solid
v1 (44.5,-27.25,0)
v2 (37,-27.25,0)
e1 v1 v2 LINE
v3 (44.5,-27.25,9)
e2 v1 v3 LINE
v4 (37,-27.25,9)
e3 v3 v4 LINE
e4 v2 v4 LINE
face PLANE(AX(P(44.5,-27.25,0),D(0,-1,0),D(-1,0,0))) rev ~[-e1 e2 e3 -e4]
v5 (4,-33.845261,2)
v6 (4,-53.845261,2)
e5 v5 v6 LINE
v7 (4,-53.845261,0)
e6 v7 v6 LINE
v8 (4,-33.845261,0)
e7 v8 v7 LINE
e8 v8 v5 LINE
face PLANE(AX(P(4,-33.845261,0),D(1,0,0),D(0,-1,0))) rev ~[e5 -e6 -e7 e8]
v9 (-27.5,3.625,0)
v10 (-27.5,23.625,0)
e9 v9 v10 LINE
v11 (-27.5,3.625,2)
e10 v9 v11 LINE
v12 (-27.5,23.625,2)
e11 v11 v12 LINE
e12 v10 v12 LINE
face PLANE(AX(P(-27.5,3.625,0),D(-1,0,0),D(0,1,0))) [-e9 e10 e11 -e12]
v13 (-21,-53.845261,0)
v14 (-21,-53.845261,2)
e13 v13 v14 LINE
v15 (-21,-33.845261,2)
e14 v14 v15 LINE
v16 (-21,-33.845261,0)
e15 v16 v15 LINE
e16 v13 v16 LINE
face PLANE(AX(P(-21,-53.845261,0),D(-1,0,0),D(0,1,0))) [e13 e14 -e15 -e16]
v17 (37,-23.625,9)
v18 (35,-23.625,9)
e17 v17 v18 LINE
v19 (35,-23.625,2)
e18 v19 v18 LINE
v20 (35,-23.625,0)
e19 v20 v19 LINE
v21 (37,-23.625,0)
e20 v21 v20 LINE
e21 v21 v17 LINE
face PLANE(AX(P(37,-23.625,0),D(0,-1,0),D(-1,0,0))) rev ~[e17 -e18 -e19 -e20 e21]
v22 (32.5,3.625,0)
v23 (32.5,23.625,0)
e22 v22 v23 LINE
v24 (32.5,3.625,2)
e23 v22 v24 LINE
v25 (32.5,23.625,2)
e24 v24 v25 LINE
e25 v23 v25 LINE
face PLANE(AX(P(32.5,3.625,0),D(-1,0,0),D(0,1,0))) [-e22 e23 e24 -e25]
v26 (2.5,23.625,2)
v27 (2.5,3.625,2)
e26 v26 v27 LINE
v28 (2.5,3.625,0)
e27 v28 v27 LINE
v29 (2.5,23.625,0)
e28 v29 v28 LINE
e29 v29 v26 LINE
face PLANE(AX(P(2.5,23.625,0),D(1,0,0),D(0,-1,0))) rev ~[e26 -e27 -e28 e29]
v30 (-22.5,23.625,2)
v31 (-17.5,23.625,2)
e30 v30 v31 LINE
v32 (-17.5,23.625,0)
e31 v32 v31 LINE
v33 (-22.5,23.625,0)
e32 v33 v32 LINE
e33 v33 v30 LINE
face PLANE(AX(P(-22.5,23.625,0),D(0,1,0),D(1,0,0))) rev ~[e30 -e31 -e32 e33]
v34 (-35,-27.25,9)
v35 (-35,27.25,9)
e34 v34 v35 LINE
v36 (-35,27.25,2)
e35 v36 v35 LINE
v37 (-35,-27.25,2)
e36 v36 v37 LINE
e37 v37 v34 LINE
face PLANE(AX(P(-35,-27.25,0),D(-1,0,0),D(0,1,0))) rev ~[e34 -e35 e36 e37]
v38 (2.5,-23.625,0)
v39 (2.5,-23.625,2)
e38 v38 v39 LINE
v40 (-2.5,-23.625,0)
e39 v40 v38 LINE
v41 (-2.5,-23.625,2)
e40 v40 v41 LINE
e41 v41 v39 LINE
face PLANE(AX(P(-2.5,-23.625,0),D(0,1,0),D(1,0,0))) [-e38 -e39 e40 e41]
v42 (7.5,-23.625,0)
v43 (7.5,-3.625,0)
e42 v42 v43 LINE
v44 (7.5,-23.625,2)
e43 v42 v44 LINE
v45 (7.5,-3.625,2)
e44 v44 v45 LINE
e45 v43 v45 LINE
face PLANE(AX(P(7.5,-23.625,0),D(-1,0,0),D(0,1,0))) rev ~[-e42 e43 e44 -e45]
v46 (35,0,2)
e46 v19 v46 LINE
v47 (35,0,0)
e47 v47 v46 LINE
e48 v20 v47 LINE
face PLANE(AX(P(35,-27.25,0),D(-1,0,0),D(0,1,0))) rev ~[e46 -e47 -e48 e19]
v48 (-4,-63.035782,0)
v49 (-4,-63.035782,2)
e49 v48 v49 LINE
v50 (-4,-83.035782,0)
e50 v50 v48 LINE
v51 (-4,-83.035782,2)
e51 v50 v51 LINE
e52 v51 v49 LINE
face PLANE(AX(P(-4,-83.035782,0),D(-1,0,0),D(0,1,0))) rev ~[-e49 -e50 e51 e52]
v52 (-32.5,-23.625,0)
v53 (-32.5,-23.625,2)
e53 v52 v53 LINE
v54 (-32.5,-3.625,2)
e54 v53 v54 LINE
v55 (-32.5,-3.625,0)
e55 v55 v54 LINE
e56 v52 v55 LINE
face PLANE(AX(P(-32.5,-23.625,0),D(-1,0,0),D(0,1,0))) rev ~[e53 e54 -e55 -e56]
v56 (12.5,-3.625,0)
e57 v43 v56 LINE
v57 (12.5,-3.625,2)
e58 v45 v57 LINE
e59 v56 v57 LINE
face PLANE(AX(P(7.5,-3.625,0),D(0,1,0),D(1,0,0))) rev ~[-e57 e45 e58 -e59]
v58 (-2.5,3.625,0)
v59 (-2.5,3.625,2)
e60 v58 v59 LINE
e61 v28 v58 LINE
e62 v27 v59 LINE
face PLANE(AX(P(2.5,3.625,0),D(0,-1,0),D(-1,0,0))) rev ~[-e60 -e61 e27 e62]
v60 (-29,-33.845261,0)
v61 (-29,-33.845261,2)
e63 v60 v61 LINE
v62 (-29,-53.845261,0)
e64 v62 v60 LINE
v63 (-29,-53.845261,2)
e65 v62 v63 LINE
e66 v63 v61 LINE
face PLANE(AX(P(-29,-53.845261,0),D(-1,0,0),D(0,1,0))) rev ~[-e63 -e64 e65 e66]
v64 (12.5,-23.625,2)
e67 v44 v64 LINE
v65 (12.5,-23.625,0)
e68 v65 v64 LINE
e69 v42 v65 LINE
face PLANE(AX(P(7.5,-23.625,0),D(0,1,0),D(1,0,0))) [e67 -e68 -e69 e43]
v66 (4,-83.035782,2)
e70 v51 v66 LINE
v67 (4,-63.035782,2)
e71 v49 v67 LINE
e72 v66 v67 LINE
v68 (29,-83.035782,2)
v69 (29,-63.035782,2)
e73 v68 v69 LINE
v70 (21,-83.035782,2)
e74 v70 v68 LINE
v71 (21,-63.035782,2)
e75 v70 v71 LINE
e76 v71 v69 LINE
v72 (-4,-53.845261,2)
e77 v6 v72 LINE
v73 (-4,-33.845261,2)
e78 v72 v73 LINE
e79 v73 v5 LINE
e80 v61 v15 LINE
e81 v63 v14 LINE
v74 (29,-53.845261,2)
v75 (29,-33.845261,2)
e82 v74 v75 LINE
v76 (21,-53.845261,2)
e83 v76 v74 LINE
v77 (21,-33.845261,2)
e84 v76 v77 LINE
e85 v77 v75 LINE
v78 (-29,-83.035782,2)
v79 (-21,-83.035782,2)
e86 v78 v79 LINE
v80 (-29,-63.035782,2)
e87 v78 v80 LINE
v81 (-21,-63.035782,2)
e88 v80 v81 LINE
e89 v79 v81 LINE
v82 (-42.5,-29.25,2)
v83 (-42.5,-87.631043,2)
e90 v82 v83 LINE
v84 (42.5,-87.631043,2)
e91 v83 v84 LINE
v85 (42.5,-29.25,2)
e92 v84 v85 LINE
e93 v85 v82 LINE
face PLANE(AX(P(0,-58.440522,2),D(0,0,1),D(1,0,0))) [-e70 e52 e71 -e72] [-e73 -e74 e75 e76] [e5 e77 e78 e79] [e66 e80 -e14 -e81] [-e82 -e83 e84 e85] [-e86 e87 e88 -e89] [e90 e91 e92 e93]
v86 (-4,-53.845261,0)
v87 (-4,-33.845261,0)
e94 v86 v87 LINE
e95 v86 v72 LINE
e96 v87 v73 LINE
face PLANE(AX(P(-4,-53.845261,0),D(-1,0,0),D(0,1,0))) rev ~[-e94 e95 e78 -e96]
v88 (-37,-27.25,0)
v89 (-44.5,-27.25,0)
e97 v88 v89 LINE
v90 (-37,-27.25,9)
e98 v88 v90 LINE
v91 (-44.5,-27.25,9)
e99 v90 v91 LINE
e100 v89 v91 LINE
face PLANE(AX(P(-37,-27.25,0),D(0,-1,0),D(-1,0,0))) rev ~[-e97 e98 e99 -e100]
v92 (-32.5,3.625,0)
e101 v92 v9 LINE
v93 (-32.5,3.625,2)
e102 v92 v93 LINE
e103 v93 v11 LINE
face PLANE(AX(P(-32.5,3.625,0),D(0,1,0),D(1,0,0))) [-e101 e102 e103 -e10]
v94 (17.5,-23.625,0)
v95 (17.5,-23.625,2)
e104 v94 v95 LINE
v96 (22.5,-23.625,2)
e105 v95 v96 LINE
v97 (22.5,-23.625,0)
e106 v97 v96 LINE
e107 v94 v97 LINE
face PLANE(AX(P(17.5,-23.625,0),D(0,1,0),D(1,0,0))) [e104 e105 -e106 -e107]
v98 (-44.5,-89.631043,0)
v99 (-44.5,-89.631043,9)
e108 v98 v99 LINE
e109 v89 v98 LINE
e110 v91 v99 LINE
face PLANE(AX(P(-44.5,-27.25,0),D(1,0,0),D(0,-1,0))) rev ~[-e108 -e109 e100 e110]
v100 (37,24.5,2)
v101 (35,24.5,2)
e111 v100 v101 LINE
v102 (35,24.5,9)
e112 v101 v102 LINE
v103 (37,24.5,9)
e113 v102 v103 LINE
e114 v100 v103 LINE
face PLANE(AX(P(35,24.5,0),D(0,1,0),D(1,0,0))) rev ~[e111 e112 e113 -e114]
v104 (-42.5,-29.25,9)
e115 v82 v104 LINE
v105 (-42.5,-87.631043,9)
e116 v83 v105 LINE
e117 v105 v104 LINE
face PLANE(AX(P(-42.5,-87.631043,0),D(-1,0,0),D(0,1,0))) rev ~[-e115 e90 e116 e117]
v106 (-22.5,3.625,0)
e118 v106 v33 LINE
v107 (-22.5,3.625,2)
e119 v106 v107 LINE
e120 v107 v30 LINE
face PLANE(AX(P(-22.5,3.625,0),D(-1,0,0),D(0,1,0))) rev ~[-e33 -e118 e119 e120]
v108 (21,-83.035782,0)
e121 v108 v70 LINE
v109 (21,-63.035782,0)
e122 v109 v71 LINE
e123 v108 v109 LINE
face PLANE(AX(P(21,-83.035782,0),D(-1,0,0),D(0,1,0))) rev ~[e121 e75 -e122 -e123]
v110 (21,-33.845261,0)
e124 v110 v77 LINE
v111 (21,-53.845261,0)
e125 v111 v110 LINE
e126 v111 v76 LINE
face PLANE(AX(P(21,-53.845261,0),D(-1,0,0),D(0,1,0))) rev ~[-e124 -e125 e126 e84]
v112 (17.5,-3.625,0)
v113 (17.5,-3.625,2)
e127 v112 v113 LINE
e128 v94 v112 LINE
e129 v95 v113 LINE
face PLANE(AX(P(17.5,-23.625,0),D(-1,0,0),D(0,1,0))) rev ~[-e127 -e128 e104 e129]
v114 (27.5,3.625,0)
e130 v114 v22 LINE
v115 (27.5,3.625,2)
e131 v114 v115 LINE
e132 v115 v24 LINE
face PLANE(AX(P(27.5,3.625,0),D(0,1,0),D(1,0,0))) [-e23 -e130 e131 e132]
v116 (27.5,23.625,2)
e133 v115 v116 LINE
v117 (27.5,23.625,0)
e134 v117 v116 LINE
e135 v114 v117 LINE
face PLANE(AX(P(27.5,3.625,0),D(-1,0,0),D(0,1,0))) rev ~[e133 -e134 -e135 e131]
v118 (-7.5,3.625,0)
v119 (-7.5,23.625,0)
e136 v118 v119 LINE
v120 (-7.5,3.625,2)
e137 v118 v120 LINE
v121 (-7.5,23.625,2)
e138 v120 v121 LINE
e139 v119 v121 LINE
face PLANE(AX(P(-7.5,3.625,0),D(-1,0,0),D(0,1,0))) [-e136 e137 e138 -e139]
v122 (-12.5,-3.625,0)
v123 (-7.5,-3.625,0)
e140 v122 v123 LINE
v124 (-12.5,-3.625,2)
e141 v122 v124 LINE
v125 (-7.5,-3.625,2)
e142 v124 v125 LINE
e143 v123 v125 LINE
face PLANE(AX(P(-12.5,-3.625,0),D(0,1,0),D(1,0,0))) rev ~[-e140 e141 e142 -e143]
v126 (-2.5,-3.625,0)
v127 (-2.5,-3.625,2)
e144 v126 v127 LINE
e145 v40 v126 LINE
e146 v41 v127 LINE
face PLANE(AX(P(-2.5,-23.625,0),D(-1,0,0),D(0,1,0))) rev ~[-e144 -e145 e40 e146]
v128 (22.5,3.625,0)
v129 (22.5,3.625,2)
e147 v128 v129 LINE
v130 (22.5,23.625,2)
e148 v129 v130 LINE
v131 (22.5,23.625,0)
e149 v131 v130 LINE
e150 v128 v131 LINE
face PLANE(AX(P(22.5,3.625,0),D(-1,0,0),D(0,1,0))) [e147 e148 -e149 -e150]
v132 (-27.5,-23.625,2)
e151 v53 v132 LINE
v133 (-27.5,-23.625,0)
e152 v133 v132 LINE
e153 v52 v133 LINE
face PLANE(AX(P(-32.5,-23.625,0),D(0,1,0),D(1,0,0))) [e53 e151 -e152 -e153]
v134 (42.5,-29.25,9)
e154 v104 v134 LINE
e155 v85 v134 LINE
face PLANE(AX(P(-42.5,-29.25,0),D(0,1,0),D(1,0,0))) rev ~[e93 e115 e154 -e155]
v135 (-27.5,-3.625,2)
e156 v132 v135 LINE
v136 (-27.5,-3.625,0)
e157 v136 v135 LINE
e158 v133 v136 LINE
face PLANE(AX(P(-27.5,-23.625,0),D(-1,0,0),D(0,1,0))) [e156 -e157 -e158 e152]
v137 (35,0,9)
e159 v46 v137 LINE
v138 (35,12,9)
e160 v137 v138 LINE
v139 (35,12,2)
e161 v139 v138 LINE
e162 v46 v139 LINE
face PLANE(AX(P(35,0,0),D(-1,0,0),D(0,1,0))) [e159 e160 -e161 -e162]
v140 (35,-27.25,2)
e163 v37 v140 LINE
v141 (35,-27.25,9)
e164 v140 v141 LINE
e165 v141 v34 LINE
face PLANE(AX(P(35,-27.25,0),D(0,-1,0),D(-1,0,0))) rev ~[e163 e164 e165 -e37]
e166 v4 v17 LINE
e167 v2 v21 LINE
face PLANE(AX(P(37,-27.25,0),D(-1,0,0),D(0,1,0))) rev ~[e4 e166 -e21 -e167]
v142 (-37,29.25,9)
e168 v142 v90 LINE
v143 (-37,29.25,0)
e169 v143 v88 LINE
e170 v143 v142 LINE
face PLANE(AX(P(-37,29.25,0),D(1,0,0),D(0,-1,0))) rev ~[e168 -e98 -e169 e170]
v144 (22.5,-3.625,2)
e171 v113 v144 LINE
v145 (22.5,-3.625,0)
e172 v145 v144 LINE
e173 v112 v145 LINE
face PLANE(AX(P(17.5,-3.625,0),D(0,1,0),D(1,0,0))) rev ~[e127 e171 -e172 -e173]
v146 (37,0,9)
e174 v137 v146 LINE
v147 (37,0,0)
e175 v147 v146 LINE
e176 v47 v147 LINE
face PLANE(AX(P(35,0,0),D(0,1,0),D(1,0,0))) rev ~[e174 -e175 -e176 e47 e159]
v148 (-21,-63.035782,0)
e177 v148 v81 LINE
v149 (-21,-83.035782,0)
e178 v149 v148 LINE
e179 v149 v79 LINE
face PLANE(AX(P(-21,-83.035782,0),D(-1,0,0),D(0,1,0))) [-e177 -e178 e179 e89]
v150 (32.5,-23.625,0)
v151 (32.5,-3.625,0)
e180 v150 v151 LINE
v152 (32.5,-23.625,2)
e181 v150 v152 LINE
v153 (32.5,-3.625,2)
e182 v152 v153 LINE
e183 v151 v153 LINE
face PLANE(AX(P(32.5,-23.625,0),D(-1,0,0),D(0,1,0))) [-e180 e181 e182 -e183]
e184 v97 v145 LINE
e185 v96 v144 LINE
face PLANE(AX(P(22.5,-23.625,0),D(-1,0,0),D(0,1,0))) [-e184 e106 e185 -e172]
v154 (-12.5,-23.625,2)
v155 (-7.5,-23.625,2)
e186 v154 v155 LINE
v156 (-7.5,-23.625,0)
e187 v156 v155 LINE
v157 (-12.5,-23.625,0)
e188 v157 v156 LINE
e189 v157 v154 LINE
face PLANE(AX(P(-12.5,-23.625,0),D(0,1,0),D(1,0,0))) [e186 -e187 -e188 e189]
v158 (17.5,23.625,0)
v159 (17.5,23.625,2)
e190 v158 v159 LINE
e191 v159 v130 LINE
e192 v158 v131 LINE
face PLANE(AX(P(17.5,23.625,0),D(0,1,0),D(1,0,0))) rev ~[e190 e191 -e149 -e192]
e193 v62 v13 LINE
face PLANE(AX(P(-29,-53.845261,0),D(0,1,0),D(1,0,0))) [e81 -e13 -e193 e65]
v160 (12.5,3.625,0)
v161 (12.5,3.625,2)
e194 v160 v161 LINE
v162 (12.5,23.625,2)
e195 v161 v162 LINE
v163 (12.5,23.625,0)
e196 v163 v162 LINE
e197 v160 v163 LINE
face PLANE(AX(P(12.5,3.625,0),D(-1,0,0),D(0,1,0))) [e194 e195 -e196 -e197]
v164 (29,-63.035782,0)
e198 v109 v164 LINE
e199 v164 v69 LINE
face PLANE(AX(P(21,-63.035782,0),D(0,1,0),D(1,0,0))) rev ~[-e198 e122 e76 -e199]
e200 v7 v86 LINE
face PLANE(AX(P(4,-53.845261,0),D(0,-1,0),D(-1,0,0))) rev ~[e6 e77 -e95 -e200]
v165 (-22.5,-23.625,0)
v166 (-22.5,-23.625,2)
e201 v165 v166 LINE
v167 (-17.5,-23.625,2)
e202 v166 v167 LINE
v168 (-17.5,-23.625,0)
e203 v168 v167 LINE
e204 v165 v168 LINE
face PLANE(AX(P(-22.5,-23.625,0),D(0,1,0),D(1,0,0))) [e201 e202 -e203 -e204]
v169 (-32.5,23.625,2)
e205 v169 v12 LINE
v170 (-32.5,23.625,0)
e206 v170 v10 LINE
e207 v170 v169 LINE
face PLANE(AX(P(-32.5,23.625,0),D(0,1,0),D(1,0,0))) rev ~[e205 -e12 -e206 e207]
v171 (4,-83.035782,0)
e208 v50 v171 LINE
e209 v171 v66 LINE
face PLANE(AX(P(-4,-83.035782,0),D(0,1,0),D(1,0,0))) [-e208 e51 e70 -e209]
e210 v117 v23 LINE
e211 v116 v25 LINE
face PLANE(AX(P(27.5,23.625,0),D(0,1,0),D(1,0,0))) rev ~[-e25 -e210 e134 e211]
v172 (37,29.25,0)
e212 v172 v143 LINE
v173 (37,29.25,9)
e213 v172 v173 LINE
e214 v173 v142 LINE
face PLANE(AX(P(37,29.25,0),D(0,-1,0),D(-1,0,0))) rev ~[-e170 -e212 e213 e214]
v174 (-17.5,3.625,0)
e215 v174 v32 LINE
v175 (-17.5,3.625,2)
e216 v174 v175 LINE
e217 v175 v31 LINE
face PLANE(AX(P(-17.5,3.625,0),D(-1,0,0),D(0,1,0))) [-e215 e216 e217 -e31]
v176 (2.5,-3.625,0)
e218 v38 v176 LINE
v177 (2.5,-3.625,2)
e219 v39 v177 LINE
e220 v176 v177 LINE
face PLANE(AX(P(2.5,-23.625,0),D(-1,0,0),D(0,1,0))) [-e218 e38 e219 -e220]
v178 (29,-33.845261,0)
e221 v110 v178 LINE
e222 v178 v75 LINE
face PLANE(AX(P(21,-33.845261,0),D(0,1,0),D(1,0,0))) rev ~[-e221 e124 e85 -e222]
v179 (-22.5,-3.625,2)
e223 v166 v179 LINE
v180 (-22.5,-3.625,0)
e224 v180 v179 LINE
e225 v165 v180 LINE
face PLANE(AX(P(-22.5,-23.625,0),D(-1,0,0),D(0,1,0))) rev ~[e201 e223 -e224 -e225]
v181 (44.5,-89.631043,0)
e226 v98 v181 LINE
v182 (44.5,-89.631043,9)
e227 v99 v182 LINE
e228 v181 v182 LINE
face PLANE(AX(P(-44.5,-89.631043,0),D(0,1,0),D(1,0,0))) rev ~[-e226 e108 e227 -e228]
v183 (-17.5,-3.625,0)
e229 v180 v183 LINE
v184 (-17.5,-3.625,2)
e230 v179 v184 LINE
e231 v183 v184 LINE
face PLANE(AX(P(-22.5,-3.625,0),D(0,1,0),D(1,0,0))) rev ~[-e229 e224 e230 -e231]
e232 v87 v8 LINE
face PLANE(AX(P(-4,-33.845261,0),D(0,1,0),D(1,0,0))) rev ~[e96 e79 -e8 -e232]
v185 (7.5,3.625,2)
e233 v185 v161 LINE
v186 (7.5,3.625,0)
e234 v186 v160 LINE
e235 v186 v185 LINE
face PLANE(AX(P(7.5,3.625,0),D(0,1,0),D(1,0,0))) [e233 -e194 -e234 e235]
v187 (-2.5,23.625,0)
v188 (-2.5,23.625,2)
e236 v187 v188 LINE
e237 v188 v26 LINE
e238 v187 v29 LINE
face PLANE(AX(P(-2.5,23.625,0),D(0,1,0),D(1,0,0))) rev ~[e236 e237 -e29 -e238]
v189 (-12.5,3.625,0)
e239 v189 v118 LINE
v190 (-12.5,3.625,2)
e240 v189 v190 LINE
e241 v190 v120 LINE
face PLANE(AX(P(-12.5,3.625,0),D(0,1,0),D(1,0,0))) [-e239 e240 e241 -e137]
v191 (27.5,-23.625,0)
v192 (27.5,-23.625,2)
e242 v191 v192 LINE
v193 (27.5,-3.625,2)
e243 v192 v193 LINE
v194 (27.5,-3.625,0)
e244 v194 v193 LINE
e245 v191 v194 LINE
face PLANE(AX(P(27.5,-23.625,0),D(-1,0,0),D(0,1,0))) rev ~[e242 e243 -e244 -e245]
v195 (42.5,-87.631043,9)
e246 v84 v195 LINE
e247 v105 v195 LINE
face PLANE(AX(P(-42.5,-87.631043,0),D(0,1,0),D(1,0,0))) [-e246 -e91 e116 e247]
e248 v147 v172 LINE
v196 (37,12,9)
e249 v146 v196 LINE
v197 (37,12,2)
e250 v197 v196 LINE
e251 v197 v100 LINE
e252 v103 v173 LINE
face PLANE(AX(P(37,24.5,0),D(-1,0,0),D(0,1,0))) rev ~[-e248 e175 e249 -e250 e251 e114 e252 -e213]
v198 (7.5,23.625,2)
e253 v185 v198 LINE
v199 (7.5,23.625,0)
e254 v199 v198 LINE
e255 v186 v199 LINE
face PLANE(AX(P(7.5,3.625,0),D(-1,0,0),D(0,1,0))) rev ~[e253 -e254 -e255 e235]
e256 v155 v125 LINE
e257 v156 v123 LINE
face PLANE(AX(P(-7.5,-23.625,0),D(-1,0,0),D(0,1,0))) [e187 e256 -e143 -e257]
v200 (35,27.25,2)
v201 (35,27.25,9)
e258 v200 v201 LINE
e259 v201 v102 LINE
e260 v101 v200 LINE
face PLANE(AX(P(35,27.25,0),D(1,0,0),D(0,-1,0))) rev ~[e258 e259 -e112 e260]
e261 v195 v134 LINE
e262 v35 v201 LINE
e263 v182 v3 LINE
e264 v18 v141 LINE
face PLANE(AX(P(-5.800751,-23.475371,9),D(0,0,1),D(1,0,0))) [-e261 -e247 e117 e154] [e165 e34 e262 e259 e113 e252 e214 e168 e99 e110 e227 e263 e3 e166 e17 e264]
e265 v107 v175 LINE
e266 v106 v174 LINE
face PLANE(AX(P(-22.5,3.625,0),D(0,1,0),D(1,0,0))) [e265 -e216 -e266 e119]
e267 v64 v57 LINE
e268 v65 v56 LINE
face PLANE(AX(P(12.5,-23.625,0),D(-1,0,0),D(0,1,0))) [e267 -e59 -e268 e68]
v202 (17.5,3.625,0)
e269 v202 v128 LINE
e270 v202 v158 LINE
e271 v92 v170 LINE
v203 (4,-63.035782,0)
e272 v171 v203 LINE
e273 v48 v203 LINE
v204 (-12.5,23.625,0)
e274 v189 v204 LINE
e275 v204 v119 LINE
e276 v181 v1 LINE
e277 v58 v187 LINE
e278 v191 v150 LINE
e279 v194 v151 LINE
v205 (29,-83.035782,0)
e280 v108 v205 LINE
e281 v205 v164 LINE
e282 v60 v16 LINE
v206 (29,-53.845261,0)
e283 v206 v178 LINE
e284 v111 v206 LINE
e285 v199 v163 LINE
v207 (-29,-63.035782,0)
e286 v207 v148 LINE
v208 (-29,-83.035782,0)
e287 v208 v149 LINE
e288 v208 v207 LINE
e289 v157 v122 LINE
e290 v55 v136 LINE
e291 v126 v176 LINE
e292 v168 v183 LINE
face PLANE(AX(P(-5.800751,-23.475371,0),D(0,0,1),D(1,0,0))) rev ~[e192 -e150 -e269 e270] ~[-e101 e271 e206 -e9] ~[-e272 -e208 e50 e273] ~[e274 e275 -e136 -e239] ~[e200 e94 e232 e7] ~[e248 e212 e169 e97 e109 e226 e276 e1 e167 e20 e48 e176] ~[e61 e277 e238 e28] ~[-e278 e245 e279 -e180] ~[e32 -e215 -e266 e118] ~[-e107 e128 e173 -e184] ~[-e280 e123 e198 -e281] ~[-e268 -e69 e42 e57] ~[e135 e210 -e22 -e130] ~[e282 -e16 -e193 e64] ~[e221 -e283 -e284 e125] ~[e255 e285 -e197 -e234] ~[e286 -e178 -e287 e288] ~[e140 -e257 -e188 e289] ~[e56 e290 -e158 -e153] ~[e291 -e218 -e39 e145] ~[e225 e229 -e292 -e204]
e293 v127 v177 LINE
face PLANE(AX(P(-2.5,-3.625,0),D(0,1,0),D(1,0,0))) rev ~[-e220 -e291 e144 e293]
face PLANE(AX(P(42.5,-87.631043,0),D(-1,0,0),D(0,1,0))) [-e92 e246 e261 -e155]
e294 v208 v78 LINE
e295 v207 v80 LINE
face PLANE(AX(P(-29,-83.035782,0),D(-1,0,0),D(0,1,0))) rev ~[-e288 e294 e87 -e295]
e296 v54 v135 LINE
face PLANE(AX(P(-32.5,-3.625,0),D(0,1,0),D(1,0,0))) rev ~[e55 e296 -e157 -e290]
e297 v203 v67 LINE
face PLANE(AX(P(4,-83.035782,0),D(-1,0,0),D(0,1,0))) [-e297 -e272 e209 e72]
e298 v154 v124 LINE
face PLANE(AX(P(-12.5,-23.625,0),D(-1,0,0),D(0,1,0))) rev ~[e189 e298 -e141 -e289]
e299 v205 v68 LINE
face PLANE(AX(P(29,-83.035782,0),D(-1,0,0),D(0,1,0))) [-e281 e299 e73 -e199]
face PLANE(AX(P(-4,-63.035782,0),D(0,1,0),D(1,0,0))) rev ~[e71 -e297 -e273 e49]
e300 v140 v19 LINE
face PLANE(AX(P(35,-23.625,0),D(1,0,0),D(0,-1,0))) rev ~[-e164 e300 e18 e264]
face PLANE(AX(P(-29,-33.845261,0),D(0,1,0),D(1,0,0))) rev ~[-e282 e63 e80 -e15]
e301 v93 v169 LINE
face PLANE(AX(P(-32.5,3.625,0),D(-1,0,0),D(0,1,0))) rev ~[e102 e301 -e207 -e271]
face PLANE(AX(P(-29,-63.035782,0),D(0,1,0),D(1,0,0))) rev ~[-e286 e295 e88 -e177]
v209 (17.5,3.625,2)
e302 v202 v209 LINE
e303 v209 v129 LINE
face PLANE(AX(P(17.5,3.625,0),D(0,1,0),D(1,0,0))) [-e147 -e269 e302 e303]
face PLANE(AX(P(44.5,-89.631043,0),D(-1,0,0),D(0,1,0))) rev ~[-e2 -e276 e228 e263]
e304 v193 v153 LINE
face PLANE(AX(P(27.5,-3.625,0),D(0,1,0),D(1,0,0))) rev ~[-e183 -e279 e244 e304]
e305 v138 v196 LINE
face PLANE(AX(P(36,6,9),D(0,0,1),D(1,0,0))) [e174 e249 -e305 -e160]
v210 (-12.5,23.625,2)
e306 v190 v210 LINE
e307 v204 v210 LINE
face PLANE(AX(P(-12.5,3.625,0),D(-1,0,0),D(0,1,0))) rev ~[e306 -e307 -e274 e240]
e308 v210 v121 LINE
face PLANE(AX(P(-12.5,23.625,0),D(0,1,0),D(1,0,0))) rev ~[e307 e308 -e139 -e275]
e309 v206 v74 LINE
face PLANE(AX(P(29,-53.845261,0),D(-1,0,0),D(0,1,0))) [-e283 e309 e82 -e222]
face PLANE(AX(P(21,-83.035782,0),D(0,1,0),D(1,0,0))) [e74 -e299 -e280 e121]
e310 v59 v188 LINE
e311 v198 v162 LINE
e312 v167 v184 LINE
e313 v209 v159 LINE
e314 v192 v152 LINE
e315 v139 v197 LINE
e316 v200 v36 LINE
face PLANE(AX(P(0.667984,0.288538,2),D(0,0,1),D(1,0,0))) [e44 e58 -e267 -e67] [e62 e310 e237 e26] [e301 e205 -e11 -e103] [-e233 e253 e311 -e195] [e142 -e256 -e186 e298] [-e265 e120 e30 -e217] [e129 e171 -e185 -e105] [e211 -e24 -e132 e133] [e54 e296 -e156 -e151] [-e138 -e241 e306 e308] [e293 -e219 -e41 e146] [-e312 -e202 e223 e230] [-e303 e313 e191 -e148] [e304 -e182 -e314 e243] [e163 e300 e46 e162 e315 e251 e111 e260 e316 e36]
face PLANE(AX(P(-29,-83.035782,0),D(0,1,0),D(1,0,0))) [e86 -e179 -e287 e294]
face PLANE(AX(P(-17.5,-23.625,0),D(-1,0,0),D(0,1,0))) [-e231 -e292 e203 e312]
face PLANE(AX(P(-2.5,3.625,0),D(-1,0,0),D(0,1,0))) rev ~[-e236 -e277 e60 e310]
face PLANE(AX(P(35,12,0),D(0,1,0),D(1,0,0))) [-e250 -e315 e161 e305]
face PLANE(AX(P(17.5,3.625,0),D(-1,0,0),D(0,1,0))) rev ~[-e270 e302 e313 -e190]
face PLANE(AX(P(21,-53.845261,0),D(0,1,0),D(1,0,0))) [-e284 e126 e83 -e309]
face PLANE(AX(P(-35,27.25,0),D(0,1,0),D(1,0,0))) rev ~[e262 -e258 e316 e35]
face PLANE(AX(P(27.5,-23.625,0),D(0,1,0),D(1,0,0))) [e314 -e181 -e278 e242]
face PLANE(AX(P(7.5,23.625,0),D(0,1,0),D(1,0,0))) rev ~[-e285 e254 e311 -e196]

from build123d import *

# Parameters (mm, degrees)
SKETCH1_W             = 5
SKETCH1_H             = 20
BOSS_EXTRUDE1_DEPTH   = 2
SKETCH1_W_2           = 8
BOSS_EXTRUDE1_2_DEPTH = 2
SKETCH1_3_W           = 85
SKETCH1_3_H           = 58.381043258
SKETCH1_3_W_2         = 2
SKETCH1_3_H_2         = 12
BOSS_EXTRUDE2_DEPTH   = 9


with BuildPart() as part:
    # Sketch1 → Boss-Extrude1 (new body)
    with BuildSketch(Plane.XY):
        Polygon((37, 12), (37, 24.5), (35, 24.5), (35, 27.25), (0, 27.25), (-35, 27.25), (-35, -27.25), (35, -27.25), (35, 12), align=None)
        with Locations((-30, -13.625)):
            Rectangle(SKETCH1_W, SKETCH1_H, mode=Mode.SUBTRACT)
        with Locations((-20, -13.625)):
            Rectangle(SKETCH1_W, SKETCH1_H, mode=Mode.SUBTRACT)
        with Locations((-10, -13.625)):
            Rectangle(SKETCH1_W, SKETCH1_H, mode=Mode.SUBTRACT)
        with Locations((0, -13.625)):
            Rectangle(SKETCH1_W, SKETCH1_H, mode=Mode.SUBTRACT)
        with Locations((10, -13.625)):
            Rectangle(SKETCH1_W, SKETCH1_H, mode=Mode.SUBTRACT)
        with Locations((20, -13.625)):
            Rectangle(SKETCH1_W, SKETCH1_H, mode=Mode.SUBTRACT)
        with Locations((30, -13.625)):
            Rectangle(SKETCH1_W, SKETCH1_H, mode=Mode.SUBTRACT)
        with Locations((-30, 13.625)):
            Rectangle(SKETCH1_W, SKETCH1_H, mode=Mode.SUBTRACT)
        with Locations((-20, 13.625)):
            Rectangle(SKETCH1_W, SKETCH1_H, mode=Mode.SUBTRACT)
        with Locations((-10, 13.625)):
            Rectangle(SKETCH1_W, SKETCH1_H, mode=Mode.SUBTRACT)
        Polygon((-2.5, 23.625), (0, 23.625), (2.5, 23.625), (2.5, 3.625), (0, 3.625), (-2.5, 3.625), align=None, mode=Mode.SUBTRACT)
        with Locations((10, 13.625)):
            Rectangle(SKETCH1_W, SKETCH1_H, mode=Mode.SUBTRACT)
        with Locations((20, 13.625)):
            Rectangle(SKETCH1_W, SKETCH1_H, mode=Mode.SUBTRACT)
        with Locations((30, 13.625)):
            Rectangle(SKETCH1_W, SKETCH1_H, mode=Mode.SUBTRACT)
    extrude(amount=BOSS_EXTRUDE1_DEPTH)



with BuildPart() as body_2:
    # Sketch1 → Boss-Extrude1 2 (new body)
    with BuildSketch(Plane.XY):
        Polygon((0, -29.25), (-42.5, -29.25), (-42.5, -87.631043258), (42.5, -87.631043258), (42.5, -29.25), align=None)
        with Locations((-25, -73.035782443)):
            Rectangle(SKETCH1_W_2, SKETCH1_H, mode=Mode.SUBTRACT)
        with Locations((0, -73.035782443)):
            Rectangle(SKETCH1_W_2, SKETCH1_H, mode=Mode.SUBTRACT)
        with Locations((-25, -43.845260814)):
            Rectangle(SKETCH1_W_2, SKETCH1_H, mode=Mode.SUBTRACT)
        Polygon((-4, -33.845260814), (0, -33.845260814), (4, -33.845260814), (4, -53.845260814), (0, -53.845260814), (-4, -53.845260814), align=None, mode=Mode.SUBTRACT)
        with Locations((25, -73.035782443)):
            Rectangle(SKETCH1_W_2, SKETCH1_H, mode=Mode.SUBTRACT)
        with Locations((25, -43.845260814)):
            Rectangle(SKETCH1_W_2, SKETCH1_H, mode=Mode.SUBTRACT)
    extrude(amount=BOSS_EXTRUDE1_2_DEPTH)


with BuildPart() as part_1:
    add(part.part)

    add(body_2.part)  # Boss-Extrude2 merges body 2
    # Sketch1<3> → Boss-Extrude2 (add)
    # profile 1 of 2: a face of its own
    with BuildSketch(Plane.XY):
        Polygon((37, 29.25), (-37, 29.25), (-37, -27.25), (-44.5, -27.25), (-44.5, -89.631043258), (44.5, -89.631043258), (44.5, -27.25), (37, -27.25), (37, -23.625), (35, -23.625), (35, -27.25), (-35, -27.25), (-35, 27.25), (35, 27.25), (35, 24.5), (37, 24.5), align=None)
        with Locations((0, -58.440521629)):
            Rectangle(SKETCH1_3_W, SKETCH1_3_H, mode=Mode.SUBTRACT)
    # profile 2 of 2: a face of its own
    with BuildSketch(Plane.XY):
        with Locations((36, 6)):
            Rectangle(SKETCH1_3_W_2, SKETCH1_3_H_2)
    extrude(amount=BOSS_EXTRUDE2_DEPTH)


solid = part_1.part
